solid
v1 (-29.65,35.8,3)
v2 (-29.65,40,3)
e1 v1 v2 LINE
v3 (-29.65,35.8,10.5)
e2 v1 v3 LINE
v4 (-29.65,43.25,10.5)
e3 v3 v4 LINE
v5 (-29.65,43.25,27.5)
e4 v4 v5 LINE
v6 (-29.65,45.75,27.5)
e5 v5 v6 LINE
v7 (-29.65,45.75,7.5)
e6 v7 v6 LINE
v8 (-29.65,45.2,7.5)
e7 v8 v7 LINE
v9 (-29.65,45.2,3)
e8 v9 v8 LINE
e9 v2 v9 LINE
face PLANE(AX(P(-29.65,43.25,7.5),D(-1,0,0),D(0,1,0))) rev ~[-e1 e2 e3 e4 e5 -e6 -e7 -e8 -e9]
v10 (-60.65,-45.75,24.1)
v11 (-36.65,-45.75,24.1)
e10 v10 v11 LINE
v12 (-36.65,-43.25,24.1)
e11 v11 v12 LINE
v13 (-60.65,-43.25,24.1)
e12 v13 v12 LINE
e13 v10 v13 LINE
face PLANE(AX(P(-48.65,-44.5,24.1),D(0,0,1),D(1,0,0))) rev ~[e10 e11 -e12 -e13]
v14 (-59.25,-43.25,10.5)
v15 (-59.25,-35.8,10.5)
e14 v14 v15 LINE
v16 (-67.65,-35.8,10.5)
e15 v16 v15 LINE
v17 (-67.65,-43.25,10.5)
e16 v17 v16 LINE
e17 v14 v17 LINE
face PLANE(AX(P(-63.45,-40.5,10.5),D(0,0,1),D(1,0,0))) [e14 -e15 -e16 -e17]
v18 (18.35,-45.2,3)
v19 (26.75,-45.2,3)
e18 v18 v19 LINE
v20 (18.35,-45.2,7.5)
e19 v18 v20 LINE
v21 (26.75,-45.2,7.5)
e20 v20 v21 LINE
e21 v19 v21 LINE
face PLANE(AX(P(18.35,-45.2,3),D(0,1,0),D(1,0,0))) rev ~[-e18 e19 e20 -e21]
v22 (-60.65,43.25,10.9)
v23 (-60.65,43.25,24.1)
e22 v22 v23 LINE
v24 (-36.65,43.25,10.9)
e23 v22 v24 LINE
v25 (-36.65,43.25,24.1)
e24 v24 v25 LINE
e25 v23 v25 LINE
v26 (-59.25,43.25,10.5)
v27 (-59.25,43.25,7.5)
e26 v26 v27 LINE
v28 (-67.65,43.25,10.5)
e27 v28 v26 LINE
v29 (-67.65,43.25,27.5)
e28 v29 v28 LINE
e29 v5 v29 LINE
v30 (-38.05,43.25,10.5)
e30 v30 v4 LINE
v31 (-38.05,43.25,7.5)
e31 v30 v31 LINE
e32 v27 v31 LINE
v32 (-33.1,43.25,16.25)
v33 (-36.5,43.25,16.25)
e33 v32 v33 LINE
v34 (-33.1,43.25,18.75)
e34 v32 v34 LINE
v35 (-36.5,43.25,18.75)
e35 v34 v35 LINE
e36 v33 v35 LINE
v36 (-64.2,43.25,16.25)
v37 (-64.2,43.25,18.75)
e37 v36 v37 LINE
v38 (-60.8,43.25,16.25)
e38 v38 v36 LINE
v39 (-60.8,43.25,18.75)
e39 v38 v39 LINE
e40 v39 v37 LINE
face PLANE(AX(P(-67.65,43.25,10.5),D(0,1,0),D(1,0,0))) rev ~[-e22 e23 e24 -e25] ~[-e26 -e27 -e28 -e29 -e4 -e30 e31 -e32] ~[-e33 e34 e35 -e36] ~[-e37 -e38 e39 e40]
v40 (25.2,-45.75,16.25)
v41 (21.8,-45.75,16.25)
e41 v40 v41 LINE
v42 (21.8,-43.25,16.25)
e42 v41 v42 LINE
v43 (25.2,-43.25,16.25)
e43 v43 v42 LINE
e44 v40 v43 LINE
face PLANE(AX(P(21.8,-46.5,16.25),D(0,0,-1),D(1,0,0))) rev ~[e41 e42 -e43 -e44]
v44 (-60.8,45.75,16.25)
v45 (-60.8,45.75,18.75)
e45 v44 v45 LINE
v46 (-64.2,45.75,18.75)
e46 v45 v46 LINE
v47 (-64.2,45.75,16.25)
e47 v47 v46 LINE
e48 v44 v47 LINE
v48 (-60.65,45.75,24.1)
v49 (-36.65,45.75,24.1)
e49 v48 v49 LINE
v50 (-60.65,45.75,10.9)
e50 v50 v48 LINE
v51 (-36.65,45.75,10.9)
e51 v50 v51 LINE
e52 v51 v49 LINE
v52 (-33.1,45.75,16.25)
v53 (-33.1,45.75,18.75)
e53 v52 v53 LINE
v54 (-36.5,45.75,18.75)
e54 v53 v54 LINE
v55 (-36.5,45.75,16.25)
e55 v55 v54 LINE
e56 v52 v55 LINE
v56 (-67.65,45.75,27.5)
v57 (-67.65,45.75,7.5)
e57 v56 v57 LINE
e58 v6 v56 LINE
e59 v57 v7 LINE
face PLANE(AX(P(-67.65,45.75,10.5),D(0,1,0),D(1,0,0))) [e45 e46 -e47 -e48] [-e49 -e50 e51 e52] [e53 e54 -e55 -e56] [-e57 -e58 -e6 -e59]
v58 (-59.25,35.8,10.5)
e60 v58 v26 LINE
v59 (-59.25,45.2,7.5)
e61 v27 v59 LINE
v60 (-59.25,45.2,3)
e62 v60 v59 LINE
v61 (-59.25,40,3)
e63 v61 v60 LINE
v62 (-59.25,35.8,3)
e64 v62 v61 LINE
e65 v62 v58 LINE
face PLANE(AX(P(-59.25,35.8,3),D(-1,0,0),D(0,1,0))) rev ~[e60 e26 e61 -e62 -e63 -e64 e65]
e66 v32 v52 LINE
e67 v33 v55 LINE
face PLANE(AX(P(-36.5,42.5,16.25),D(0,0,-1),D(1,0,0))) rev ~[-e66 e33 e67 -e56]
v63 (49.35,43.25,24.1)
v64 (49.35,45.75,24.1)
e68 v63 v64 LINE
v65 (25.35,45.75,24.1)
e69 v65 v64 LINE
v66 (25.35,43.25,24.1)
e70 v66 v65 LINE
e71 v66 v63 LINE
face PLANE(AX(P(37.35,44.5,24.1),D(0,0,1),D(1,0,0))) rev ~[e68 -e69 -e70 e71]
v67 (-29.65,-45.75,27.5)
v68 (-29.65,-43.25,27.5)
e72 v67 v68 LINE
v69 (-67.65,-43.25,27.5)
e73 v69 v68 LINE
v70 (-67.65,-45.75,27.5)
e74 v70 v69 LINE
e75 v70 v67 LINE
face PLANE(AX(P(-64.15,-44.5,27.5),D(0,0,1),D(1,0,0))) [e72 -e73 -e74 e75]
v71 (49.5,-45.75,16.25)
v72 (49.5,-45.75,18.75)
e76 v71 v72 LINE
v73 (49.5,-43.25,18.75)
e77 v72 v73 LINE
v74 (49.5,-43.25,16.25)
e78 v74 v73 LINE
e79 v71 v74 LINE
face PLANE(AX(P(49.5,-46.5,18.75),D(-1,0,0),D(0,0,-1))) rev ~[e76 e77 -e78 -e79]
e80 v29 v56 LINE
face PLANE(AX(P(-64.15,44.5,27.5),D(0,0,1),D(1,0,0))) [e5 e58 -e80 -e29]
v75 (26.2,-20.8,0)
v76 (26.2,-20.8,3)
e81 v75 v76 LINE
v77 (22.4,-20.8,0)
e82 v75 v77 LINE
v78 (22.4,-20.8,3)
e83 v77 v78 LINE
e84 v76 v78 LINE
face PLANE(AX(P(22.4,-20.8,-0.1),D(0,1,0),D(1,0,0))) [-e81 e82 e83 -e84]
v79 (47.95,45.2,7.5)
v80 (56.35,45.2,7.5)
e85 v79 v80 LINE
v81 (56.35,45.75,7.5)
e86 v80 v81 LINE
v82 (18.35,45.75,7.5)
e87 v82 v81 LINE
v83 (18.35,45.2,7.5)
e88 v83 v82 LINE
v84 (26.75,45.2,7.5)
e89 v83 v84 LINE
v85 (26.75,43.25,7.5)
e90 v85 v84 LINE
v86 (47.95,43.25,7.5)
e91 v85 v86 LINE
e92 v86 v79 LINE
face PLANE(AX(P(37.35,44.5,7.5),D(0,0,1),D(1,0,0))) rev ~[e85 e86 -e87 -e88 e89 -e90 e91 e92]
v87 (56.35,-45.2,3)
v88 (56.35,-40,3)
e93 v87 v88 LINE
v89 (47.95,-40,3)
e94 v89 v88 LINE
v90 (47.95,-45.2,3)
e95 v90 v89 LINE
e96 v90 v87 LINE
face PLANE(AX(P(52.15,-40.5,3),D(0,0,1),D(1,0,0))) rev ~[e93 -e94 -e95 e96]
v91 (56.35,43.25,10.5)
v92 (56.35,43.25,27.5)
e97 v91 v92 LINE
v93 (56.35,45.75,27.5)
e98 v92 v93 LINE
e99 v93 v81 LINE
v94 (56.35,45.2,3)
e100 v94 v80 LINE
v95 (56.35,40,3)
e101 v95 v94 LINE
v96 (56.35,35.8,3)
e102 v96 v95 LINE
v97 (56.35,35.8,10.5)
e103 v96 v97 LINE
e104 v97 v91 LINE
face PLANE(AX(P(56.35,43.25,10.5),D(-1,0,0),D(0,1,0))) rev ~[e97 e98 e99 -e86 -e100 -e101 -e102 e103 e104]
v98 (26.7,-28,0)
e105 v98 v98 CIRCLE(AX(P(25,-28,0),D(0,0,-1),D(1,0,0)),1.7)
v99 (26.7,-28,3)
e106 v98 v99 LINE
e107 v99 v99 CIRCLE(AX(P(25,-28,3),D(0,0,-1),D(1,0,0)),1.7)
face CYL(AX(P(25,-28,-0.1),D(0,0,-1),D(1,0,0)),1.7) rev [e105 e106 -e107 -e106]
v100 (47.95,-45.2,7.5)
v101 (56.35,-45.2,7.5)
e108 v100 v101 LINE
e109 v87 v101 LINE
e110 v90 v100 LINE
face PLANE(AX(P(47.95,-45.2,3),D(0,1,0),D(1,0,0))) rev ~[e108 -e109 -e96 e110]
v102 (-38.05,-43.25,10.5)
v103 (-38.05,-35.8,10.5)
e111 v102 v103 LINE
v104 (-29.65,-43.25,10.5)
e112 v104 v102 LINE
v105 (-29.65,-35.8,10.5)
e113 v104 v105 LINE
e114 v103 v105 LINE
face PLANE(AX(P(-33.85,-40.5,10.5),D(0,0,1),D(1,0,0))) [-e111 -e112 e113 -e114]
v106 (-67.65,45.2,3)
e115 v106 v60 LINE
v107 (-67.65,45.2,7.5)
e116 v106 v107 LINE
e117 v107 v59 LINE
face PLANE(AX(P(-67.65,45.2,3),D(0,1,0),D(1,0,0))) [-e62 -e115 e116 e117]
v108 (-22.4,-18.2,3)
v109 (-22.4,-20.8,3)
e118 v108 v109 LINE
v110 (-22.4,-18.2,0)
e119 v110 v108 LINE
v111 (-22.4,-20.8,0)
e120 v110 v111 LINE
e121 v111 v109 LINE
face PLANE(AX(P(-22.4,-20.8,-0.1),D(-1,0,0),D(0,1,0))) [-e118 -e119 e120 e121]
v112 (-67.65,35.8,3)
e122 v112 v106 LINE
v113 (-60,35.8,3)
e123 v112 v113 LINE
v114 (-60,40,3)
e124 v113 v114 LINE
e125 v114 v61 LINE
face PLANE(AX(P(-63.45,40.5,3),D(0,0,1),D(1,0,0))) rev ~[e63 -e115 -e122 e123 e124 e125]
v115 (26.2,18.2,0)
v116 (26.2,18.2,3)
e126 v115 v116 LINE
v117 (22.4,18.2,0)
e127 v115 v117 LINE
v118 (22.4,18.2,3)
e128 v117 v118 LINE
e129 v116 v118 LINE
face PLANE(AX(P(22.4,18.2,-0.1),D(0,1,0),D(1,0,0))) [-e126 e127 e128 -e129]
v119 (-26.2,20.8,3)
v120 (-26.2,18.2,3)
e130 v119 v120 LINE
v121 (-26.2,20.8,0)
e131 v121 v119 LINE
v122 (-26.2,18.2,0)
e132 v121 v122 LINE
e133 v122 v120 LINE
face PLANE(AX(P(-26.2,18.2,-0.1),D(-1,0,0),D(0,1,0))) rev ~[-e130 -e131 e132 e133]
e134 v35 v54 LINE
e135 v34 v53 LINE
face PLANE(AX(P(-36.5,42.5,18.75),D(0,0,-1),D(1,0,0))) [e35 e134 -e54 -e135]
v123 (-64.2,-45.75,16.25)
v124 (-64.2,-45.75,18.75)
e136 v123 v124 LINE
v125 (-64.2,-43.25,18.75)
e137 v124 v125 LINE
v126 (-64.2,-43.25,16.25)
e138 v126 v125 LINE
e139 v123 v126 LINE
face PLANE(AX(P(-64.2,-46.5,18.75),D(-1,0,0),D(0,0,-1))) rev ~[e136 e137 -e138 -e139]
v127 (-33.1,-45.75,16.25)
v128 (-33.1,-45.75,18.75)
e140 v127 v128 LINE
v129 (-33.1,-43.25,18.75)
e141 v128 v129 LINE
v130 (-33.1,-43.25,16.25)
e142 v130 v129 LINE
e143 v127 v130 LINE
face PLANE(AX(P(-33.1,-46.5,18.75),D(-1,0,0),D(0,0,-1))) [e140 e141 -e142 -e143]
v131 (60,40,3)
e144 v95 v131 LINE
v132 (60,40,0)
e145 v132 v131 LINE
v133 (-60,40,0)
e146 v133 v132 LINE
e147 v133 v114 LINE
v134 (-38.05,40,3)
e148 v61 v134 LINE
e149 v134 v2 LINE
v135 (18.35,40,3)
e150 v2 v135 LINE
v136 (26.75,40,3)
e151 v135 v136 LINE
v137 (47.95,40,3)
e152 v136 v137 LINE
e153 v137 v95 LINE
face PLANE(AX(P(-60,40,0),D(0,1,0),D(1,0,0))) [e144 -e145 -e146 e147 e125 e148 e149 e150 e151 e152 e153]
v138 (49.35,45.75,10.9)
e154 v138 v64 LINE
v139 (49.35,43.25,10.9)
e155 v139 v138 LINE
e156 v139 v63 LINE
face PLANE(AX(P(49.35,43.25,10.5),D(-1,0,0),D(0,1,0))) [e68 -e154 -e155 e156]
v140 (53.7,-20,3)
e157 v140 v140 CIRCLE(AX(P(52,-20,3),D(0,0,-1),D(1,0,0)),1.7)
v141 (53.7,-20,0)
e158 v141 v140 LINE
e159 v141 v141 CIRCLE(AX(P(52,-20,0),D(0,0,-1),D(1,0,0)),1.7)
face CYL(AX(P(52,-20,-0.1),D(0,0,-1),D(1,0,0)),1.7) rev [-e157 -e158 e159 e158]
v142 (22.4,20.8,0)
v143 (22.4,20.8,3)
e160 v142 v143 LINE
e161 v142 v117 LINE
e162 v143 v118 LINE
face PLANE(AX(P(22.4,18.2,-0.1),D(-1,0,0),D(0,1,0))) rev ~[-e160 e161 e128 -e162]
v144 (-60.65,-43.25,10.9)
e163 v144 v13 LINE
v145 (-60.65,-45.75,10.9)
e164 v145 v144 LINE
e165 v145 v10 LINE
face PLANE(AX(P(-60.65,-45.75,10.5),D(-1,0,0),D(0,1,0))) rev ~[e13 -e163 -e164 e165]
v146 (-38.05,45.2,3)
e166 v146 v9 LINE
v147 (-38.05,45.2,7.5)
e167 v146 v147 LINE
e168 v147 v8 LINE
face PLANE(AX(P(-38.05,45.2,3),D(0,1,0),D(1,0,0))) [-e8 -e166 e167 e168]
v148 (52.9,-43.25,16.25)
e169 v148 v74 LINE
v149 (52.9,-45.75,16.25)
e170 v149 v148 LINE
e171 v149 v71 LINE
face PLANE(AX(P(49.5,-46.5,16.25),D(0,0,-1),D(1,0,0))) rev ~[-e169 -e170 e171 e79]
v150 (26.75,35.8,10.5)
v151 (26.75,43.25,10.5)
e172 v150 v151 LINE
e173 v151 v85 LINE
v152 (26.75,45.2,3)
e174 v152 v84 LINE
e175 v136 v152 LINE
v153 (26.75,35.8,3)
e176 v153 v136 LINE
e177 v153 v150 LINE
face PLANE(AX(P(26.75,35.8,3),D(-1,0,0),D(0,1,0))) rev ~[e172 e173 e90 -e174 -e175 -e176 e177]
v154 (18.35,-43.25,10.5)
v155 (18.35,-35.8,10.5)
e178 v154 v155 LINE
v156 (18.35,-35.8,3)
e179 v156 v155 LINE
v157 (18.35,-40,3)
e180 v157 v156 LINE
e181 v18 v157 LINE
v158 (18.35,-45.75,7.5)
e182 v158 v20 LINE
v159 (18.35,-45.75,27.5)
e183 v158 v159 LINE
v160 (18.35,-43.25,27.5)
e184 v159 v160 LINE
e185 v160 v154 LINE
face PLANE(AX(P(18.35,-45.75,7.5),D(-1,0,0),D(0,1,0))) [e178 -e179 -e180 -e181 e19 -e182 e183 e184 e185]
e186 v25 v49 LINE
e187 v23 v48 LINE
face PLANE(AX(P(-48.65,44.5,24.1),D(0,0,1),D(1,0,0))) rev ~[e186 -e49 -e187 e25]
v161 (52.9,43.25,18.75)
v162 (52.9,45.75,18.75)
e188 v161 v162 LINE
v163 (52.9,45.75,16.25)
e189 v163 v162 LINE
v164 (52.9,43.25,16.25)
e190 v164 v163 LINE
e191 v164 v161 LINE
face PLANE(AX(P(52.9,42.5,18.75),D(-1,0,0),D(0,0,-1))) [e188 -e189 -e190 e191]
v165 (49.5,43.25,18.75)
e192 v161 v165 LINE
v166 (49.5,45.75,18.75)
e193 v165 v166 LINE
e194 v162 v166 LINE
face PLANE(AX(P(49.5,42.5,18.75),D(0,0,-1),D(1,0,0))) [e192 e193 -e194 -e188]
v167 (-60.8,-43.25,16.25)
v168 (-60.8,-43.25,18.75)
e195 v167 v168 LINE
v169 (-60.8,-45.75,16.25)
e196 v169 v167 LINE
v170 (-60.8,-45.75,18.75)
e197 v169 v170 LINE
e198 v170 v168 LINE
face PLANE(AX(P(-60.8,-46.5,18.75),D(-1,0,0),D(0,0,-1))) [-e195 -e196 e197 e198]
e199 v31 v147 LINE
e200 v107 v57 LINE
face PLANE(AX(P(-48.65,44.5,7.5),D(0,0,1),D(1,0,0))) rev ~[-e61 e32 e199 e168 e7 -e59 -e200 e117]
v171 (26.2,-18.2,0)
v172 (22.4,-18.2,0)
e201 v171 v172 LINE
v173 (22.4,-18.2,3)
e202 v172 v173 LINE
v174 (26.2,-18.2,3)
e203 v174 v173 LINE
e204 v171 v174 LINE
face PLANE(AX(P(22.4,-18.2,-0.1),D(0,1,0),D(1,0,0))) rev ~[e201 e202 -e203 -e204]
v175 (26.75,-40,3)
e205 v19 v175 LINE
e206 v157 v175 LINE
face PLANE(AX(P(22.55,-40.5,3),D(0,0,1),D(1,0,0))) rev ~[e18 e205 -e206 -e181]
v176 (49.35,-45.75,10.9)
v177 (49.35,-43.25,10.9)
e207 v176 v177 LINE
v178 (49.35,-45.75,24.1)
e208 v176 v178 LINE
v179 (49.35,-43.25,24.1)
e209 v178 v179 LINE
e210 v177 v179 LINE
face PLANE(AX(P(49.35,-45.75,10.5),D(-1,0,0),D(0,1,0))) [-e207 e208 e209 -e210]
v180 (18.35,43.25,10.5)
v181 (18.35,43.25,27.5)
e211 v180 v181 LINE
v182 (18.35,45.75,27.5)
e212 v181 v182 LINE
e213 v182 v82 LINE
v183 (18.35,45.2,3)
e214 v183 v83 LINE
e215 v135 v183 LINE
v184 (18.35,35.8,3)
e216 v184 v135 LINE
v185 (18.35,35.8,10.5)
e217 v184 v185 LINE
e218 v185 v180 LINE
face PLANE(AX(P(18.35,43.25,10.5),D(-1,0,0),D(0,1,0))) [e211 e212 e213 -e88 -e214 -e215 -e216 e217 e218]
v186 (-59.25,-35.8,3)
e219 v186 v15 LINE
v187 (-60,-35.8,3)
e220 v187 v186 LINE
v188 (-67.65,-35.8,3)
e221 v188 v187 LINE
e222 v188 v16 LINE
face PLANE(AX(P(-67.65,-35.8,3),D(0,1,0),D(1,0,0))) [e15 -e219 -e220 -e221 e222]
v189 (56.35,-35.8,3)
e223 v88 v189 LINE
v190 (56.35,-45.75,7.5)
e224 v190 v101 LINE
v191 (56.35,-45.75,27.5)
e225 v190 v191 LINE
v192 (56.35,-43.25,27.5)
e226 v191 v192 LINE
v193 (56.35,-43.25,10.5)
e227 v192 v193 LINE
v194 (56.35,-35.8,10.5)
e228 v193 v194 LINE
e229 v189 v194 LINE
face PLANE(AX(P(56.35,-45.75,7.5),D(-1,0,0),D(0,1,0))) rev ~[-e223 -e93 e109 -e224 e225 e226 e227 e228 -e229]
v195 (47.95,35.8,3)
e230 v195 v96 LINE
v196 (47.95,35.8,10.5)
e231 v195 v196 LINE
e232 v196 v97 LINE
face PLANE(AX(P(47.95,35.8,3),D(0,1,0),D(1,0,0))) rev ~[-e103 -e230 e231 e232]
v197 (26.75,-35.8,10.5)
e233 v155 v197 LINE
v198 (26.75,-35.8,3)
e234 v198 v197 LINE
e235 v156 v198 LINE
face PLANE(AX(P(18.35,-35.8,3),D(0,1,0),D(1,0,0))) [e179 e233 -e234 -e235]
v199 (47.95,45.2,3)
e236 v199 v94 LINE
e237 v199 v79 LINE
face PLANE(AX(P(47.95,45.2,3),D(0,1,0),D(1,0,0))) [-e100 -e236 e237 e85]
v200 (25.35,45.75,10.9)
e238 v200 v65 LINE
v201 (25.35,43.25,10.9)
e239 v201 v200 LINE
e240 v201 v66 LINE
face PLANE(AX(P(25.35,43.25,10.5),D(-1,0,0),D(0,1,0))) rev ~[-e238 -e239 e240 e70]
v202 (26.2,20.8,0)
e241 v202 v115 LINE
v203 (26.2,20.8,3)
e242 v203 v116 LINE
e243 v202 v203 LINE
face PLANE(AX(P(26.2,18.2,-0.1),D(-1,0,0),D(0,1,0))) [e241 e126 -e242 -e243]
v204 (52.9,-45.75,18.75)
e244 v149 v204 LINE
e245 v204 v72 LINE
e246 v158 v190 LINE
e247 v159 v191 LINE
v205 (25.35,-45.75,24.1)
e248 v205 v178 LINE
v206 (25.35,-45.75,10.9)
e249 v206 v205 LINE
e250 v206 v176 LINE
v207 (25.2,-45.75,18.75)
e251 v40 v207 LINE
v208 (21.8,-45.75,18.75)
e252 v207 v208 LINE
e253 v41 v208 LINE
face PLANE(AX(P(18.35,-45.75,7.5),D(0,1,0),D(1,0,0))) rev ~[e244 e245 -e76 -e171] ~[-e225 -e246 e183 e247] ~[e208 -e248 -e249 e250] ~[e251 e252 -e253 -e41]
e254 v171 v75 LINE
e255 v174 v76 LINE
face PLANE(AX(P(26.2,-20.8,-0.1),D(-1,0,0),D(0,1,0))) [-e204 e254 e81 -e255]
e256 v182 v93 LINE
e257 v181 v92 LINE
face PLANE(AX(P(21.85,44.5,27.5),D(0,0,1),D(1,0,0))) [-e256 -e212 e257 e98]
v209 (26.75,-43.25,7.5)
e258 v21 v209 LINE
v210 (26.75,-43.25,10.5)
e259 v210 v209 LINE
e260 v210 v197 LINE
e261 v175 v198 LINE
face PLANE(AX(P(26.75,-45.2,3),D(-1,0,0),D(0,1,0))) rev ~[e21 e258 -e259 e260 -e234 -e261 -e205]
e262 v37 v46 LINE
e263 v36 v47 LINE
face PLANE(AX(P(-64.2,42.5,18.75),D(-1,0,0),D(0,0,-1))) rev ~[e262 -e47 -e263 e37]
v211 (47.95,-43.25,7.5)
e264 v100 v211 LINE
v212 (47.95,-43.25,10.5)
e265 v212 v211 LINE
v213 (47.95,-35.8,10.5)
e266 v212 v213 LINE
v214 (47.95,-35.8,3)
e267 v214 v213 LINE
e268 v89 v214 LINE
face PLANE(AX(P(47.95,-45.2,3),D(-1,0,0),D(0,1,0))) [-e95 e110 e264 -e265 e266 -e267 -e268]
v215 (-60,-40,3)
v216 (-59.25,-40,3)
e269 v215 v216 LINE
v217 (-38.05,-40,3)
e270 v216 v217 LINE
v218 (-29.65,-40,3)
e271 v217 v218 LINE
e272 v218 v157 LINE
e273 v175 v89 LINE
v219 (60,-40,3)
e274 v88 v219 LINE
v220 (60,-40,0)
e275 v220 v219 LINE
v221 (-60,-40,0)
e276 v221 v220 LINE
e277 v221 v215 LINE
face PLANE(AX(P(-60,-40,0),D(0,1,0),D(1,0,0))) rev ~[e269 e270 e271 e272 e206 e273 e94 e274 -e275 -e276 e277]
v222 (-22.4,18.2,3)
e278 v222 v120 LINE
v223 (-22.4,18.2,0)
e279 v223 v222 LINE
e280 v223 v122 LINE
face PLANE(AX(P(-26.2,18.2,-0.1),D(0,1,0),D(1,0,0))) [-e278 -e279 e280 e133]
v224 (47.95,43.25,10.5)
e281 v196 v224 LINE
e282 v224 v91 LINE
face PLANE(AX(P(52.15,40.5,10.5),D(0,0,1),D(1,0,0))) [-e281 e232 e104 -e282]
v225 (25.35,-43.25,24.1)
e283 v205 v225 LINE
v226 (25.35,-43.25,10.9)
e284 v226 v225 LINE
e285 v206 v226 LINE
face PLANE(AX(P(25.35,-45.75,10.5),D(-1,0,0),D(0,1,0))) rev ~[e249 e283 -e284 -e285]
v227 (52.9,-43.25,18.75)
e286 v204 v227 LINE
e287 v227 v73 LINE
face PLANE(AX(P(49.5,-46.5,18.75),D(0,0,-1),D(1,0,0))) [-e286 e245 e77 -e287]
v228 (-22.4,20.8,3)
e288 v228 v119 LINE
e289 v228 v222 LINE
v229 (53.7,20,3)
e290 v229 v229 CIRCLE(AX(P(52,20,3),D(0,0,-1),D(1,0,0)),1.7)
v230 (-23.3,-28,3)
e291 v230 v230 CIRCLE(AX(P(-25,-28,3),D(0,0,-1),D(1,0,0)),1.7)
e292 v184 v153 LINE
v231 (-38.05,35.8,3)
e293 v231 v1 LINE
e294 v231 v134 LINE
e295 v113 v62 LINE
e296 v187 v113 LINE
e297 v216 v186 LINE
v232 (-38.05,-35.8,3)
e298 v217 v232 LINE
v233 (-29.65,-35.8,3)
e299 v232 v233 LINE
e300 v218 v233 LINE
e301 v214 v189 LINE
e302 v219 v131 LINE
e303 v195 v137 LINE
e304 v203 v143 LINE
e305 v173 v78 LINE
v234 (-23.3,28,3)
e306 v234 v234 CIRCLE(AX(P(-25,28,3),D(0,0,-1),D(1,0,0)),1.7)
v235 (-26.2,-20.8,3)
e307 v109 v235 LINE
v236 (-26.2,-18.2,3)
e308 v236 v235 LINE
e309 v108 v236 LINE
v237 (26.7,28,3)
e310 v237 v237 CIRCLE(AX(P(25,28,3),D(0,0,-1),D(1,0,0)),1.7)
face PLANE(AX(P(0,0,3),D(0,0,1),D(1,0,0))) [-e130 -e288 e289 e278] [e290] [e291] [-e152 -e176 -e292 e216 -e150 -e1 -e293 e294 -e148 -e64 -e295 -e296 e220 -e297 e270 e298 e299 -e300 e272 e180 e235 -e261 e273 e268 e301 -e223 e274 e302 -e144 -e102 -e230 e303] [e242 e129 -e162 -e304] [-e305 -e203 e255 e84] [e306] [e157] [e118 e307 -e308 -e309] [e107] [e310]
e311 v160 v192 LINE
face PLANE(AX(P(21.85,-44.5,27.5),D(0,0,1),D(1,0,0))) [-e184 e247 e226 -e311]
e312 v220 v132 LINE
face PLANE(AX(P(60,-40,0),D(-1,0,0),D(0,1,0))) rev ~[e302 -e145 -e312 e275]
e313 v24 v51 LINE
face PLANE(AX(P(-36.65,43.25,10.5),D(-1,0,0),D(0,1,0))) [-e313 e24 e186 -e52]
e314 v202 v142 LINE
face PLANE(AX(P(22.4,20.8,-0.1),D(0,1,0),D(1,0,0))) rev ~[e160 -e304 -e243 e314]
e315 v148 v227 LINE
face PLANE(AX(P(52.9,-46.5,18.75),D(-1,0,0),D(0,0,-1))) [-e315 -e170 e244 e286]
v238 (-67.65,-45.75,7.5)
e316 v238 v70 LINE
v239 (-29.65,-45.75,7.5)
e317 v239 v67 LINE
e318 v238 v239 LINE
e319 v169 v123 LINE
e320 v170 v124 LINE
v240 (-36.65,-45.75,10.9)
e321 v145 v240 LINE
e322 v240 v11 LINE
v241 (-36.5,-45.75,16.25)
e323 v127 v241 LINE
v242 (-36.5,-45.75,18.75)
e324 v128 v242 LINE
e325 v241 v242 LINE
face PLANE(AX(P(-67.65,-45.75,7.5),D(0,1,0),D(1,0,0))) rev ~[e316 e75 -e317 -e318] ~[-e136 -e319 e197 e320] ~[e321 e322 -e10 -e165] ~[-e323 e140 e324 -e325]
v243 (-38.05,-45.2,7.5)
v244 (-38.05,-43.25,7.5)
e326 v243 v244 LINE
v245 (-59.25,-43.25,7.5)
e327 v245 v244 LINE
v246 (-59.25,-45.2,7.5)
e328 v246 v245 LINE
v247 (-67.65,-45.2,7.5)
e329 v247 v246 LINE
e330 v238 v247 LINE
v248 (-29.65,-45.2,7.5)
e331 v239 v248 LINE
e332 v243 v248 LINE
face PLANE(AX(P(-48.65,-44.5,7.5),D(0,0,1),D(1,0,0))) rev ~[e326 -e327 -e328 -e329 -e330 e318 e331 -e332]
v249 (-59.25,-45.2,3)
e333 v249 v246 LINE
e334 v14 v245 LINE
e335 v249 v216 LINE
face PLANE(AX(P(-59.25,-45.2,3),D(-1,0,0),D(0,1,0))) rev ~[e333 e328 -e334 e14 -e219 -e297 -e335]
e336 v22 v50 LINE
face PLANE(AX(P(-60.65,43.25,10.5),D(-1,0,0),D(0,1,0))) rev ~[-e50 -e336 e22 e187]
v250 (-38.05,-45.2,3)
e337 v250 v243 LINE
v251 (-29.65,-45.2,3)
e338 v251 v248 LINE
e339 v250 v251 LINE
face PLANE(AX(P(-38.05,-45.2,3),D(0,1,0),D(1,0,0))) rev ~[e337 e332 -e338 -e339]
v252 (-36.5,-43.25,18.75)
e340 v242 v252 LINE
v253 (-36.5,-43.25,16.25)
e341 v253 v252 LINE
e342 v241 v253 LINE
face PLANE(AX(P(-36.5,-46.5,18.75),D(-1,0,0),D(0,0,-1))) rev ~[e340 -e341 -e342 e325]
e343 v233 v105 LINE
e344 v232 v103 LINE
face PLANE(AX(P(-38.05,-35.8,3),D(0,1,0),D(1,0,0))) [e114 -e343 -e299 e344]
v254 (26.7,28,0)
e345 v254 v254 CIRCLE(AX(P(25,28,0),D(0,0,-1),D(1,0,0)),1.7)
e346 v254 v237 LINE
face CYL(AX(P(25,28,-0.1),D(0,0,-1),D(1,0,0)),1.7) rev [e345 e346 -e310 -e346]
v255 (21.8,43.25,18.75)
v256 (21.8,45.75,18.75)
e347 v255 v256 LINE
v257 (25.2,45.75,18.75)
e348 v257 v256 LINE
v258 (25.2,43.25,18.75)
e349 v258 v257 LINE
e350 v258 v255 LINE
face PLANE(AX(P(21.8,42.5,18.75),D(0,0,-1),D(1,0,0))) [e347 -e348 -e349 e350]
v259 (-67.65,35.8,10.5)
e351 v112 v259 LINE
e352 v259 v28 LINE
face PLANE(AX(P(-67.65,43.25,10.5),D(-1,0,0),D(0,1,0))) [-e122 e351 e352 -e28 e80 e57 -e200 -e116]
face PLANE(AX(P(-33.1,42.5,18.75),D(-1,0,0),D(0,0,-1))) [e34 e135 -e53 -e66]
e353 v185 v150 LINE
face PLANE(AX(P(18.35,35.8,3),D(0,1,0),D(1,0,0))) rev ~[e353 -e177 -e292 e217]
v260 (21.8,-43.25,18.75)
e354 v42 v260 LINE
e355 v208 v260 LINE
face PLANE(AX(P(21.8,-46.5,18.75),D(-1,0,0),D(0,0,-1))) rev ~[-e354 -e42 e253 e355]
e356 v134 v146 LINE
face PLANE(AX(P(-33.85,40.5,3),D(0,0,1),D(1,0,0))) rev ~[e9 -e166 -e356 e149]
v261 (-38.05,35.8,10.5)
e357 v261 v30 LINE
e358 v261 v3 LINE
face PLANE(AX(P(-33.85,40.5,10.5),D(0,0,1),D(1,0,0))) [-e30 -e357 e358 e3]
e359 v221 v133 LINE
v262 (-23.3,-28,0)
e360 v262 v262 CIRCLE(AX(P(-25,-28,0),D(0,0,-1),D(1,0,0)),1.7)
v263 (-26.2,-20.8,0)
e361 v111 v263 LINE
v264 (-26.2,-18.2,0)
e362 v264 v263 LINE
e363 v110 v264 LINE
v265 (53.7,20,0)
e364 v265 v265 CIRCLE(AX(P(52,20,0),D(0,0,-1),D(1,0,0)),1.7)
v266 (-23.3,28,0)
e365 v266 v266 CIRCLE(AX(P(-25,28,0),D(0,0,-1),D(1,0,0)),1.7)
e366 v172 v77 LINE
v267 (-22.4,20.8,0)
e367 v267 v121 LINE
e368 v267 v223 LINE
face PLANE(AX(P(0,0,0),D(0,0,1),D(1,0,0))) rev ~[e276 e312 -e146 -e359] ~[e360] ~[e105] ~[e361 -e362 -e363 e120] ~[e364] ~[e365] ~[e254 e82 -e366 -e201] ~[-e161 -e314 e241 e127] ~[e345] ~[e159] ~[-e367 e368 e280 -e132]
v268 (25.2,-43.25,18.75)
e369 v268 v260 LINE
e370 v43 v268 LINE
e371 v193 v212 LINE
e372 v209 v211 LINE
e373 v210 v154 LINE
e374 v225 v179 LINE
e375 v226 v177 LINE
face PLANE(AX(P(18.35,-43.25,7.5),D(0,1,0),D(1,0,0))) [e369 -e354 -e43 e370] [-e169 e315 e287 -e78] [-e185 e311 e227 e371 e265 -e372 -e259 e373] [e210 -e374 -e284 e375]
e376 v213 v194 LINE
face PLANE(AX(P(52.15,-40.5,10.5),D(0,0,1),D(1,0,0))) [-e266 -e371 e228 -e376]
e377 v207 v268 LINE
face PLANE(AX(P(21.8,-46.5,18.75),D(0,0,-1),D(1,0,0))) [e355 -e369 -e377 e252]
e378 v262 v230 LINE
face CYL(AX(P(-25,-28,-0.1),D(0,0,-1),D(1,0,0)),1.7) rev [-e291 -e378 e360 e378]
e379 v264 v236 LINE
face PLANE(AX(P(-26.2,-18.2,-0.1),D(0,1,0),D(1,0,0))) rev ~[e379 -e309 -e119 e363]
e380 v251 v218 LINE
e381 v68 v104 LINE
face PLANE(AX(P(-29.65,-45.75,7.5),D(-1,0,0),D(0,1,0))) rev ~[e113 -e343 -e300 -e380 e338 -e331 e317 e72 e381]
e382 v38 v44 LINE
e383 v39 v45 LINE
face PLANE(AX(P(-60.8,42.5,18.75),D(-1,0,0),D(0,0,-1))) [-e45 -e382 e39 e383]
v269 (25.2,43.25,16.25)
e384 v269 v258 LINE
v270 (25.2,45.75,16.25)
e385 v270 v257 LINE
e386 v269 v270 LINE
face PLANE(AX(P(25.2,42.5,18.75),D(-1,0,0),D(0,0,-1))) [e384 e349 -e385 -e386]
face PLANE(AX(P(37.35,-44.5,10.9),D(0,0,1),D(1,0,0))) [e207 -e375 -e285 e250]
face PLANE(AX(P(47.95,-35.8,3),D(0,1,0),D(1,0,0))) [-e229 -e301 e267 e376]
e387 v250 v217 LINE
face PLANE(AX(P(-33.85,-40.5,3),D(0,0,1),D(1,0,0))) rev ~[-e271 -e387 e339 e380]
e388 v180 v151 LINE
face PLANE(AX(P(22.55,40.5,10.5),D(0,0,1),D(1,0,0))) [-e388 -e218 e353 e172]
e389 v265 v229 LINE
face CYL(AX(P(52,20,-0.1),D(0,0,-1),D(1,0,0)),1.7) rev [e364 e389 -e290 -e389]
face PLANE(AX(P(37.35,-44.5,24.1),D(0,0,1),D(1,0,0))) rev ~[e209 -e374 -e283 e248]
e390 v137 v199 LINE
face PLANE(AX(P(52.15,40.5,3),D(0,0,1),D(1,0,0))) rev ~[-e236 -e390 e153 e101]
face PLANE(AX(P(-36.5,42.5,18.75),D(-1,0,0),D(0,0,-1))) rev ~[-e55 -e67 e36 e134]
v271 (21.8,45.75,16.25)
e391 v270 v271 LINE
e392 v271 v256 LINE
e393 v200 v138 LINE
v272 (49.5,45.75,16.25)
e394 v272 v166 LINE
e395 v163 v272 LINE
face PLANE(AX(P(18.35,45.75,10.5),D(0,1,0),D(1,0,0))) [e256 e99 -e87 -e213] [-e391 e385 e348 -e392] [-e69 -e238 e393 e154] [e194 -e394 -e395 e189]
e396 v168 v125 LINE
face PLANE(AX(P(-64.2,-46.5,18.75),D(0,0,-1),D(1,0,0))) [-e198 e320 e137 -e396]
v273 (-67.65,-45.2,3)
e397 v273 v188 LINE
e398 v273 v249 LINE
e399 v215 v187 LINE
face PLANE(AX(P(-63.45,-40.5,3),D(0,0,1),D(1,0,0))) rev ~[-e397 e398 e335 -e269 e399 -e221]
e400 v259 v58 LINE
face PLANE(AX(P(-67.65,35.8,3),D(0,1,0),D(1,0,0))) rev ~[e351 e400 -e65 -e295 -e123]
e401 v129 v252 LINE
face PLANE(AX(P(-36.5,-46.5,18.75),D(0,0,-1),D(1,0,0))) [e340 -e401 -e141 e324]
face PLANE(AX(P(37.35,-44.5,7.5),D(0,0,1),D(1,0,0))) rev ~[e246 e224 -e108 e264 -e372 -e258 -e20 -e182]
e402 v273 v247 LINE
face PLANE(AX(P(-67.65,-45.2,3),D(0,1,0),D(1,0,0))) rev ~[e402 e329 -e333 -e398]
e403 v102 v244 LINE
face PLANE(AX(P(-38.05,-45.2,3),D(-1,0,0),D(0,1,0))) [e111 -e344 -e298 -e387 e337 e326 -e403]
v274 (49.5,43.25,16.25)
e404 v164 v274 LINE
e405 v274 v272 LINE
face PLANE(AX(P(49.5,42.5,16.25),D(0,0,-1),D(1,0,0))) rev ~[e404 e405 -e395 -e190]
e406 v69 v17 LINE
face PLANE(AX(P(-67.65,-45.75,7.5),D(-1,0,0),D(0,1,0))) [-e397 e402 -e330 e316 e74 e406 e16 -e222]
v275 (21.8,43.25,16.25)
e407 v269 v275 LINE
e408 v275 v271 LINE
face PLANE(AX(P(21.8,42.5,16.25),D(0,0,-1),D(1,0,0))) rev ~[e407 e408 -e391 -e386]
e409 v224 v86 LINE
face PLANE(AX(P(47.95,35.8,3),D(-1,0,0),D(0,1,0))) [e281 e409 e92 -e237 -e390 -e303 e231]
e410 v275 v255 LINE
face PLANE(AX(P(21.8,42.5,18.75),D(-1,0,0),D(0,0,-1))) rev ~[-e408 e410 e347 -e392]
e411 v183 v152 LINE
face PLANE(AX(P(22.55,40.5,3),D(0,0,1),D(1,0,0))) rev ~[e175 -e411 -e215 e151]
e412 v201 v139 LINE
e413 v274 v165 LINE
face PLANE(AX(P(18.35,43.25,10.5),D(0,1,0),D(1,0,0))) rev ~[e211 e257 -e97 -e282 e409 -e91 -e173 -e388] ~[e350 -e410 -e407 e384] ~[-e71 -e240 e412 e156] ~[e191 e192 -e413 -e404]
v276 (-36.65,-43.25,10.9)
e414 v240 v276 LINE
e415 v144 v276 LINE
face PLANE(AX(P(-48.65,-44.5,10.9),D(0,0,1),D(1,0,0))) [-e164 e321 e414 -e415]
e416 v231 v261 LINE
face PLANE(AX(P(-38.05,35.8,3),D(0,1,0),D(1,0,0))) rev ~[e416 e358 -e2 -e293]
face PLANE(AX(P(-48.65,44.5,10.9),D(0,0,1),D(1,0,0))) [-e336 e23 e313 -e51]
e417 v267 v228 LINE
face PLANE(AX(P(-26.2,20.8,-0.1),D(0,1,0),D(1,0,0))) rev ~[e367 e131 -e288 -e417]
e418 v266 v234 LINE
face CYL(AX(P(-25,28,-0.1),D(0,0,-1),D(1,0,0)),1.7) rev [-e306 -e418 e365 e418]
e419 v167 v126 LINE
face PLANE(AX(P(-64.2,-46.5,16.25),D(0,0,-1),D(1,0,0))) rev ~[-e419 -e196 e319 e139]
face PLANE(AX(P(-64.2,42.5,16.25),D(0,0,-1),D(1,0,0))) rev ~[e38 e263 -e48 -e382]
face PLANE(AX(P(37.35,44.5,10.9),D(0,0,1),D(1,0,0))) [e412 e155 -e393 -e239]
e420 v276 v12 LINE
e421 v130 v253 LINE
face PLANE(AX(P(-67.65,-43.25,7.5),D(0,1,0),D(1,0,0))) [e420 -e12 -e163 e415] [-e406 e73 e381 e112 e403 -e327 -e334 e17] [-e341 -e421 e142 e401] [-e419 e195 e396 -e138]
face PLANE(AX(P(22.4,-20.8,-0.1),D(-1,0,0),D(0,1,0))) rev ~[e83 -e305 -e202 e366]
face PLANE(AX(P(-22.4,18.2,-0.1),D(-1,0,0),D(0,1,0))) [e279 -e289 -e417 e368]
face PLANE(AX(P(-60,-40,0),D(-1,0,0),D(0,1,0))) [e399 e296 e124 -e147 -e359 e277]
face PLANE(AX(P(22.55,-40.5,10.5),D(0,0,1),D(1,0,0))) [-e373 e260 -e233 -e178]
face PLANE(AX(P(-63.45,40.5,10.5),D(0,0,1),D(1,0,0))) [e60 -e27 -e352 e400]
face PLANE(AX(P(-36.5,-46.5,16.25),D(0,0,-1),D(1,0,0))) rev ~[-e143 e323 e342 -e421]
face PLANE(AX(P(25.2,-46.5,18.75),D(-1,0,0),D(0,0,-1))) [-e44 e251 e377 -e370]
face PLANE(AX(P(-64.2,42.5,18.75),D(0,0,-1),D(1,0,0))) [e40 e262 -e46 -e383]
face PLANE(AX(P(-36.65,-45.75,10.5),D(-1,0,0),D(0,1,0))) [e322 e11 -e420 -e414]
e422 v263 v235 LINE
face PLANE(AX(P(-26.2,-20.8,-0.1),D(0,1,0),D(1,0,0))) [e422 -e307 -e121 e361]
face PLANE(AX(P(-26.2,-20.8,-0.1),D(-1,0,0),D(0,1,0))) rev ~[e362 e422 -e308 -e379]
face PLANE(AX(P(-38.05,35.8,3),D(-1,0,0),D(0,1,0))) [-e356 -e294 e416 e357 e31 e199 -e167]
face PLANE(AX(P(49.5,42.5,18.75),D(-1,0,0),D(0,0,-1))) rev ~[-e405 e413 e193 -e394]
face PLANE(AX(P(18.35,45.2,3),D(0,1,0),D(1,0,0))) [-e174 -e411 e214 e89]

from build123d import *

# Parameters (mm, degrees)
SKETCH_1_W                       = 120
SKETCH_1_H                       = 80
DECK_120X80X3_DEPTH              = 3
FRAME_RIB_START                  = 3
SKETCH_2_W                       = 8.4
SKETCH_2_H                       = 9.4
FRAME_RIB_DEPTH                  = 7.5
EXTRUDE_START                    = 3
SKETCH_3_W                       = 8.4
SKETCH_3_H                       = 9.4
EXTRUDE_3_DEPTH                  = 7.5
MOUNT_UPRIGHT_START              = 10.5
SKETCH_4_W                       = 7
SKETCH_4_H                       = 2.5
MOUNT_UPRIGHT_DEPTH              = 17
EXTRUDE_START_2                  = 10.5
SKETCH_5_W                       = 7
SKETCH_5_H                       = 2.5
EXTRUDE_5_DEPTH                  = 17
MOUNT_LOWER_BEAM_START           = 7.5
SKETCH_6_W                       = 38
SKETCH_6_H                       = 2.5
MOUNT_LOWER_BEAM_DEPTH           = 3.4
MOUNT_UPPER_BEAM_START           = 24.1
SKETCH_7_W                       = 38
SKETCH_7_H                       = 2.5
MOUNT_UPPER_BEAM_DEPTH           = 3.4
SERVO_EAR_ADJUSTABLE_SLOTS_START = -46.5
SKETCH_8_W                       = 3.4
SKETCH_8_H                       = 2.5
SERVO_EAR_ADJUSTABLE_SLOTS_DEPTH = 4
SKETCH_9_W                       = 8.4
SKETCH_9_H                       = 9.4
EXTRUDE_8_DEPTH                  = 7.5
SKETCH_10_W                      = 8.4
SKETCH_10_H                      = 9.4
EXTRUDE_9_DEPTH                  = 7.5
SKETCH_11_W                      = 7
SKETCH_11_H                      = 2.5
EXTRUDE_10_DEPTH                 = 17
SKETCH_12_W                      = 7
SKETCH_12_H                      = 2.5
EXTRUDE_11_DEPTH                 = 17
EXTRUDE_START_3                  = 7.5
SKETCH_13_W                      = 38
SKETCH_13_H                      = 2.5
EXTRUDE_12_DEPTH                 = 3.4
EXTRUDE_START_4                  = 24.1
SKETCH_14_W                      = 38
SKETCH_14_H                      = 2.5
EXTRUDE_13_DEPTH                 = 3.4
CUT_EXTRUDE_START                = 42.5
SKETCH_15_W                      = 3.4
SKETCH_15_H                      = 2.5
CUT_EXTRUDE_2_DEPTH              = 4
SKETCH_16_W                      = 8.4
SKETCH_16_H                      = 9.4
EXTRUDE_14_DEPTH                 = 7.5
SKETCH_17_W                      = 8.4
SKETCH_17_H                      = 9.4
EXTRUDE_15_DEPTH                 = 7.5
SKETCH_18_W                      = 7
SKETCH_18_H                      = 2.5
EXTRUDE_16_DEPTH                 = 17
SKETCH_19_W                      = 7
SKETCH_19_H                      = 2.5
EXTRUDE_17_DEPTH                 = 17
SKETCH_20_W                      = 38
SKETCH_20_H                      = 2.5
EXTRUDE_18_DEPTH                 = 3.4
SKETCH_21_W                      = 38
SKETCH_21_H                      = 2.5
EXTRUDE_19_DEPTH                 = 3.4
CUT_EXTRUDE_START_2              = -46.5
SKETCH_22_W                      = 3.4
SKETCH_22_H                      = 2.5
CUT_EXTRUDE_3_DEPTH              = 4
SKETCH_23_W                      = 8.4
SKETCH_23_H                      = 9.4
EXTRUDE_20_DEPTH                 = 7.5
SKETCH_24_W                      = 8.4
SKETCH_24_H                      = 9.4
EXTRUDE_21_DEPTH                 = 7.5
SKETCH_25_W                      = 7
SKETCH_25_H                      = 2.5
EXTRUDE_22_DEPTH                 = 17
SKETCH_26_W                      = 7
SKETCH_26_H                      = 2.5
EXTRUDE_23_DEPTH                 = 17
SKETCH_27_W                      = 38
SKETCH_27_H                      = 2.5
EXTRUDE_24_DEPTH                 = 3.4
SKETCH_28_W                      = 38
SKETCH_28_H                      = 2.5
EXTRUDE_25_DEPTH                 = 3.4
SKETCH_29_W                      = 3.4
SKETCH_29_H                      = 2.5
CUT_EXTRUDE_4_DEPTH              = 4
M3_DECK_MOUNTING_HOLES_START     = -0.1
SKETCH_30_R                      = 1.7
M3_DECK_MOUNTING_HOLES_DEPTH     = 3.2
PCB_SCREW_ACCESS_START           = -0.1
SKETCH_31_W                      = 3.8
SKETCH_31_H                      = 2.6
PCB_SCREW_ACCESS_DEPTH           = 3.2


with BuildPart() as part:
    # 草图1 → Deck_120x80x3 (new body)
    with BuildSketch(Plane.XY):
        Rectangle(SKETCH_1_W, SKETCH_1_H)
    extrude(amount=DECK_120X80X3_DEPTH)

    # 草图2 → Frame_rib (add)
    with BuildSketch(Plane.XY.offset(FRAME_RIB_START)):
        with Locations((-63.45, -40.5)):
            Rectangle(SKETCH_2_W, SKETCH_2_H)
    extrude(amount=FRAME_RIB_DEPTH)

    # 草图3 → 凸台-拉伸3 (add)
    with BuildSketch(Plane.XY.offset(EXTRUDE_START)):
        with Locations((-33.85, -40.5)):
            Rectangle(SKETCH_3_W, SKETCH_3_H)
    extrude(amount=EXTRUDE_3_DEPTH)

    # 草图4 → Mount_upright (add)
    with BuildSketch(Plane.XY.offset(MOUNT_UPRIGHT_START)):
        with Locations((-64.15, -44.5)):
            Rectangle(SKETCH_4_W, SKETCH_4_H)
    extrude(amount=MOUNT_UPRIGHT_DEPTH)

    # 草图5 → 凸台-拉伸5 (add)
    with BuildSketch(Plane.XY.offset(EXTRUDE_START_2)):
        with Locations((-33.15, -44.5)):
            Rectangle(SKETCH_5_W, SKETCH_5_H)
    extrude(amount=EXTRUDE_5_DEPTH)

    # 草图6 → Mount_lower_beam (add)
    with BuildSketch(Plane.XY.offset(MOUNT_LOWER_BEAM_START)):
        with Locations((-48.65, -44.5)):
            Rectangle(SKETCH_6_W, SKETCH_6_H)
    extrude(amount=MOUNT_LOWER_BEAM_DEPTH)

    # 草图7 → Mount_upper_beam (add)
    with BuildSketch(Plane.XY.offset(MOUNT_UPPER_BEAM_START)):
        with Locations((-48.65, -44.5)):
            Rectangle(SKETCH_7_W, SKETCH_7_H)
    extrude(amount=MOUNT_UPPER_BEAM_DEPTH)

    # 草图8 → Servo_ear_adjustable_slots (cut)
    with BuildSketch(Plane(origin=(0, 0, 0), x_dir=(1, 0, 0), z_dir=(0, 1, 0)).offset(SERVO_EAR_ADJUSTABLE_SLOTS_START)):
        with Locations((-62.5, -17.5)):
            Rectangle(SKETCH_8_W, SKETCH_8_H)
        with Locations((-34.8, -17.5)):
            Rectangle(SKETCH_8_W, SKETCH_8_H)
    extrude(amount=SERVO_EAR_ADJUSTABLE_SLOTS_DEPTH, mode=Mode.SUBTRACT)

    # 草图9 → 凸台-拉伸8 (add)
    with BuildSketch(Plane.XY.offset(EXTRUDE_START)):
        with Locations((-63.45, 40.5)):
            Rectangle(SKETCH_9_W, SKETCH_9_H)
    extrude(amount=EXTRUDE_8_DEPTH)

    # 草图10 → 凸台-拉伸9 (add)
    with BuildSketch(Plane.XY.offset(EXTRUDE_START)):
        with Locations((-33.85, 40.5)):
            Rectangle(SKETCH_10_W, SKETCH_10_H)
    extrude(amount=EXTRUDE_9_DEPTH)

    # 草图11 → 凸台-拉伸10 (add)
    with BuildSketch(Plane.XY.offset(EXTRUDE_START_2)):
        with Locations((-64.15, 44.5)):
            Rectangle(SKETCH_11_W, SKETCH_11_H)
    extrude(amount=EXTRUDE_10_DEPTH)

    # 草图12 → 凸台-拉伸11 (add)
    with BuildSketch(Plane.XY.offset(EXTRUDE_START_2)):
        with Locations((-33.15, 44.5)):
            Rectangle(SKETCH_12_W, SKETCH_12_H)
    extrude(amount=EXTRUDE_11_DEPTH)

    # 草图13 → 凸台-拉伸12 (add)
    with BuildSketch(Plane.XY.offset(EXTRUDE_START_3)):
        with Locations((-48.65, 44.5)):
            Rectangle(SKETCH_13_W, SKETCH_13_H)
    extrude(amount=EXTRUDE_12_DEPTH)

    # 草图14 → 凸台-拉伸13 (add)
    with BuildSketch(Plane.XY.offset(EXTRUDE_START_4)):
        with Locations((-48.65, 44.5)):
            Rectangle(SKETCH_14_W, SKETCH_14_H)
    extrude(amount=EXTRUDE_13_DEPTH)

    # 草图15 → 切除-拉伸2 (cut)
    with BuildSketch(Plane(origin=(0, 0, 0), x_dir=(1, 0, 0), z_dir=(0, 1, 0)).offset(CUT_EXTRUDE_START)):
        with Locations((-62.5, -17.5)):
            Rectangle(SKETCH_15_W, SKETCH_15_H)
        with Locations((-34.8, -17.5)):
            Rectangle(SKETCH_15_W, SKETCH_15_H)
    extrude(amount=CUT_EXTRUDE_2_DEPTH, mode=Mode.SUBTRACT)

    # 草图16 → 凸台-拉伸14 (add)
    with BuildSketch(Plane.XY.offset(EXTRUDE_START)):
        with Locations((22.55, -40.5)):
            Rectangle(SKETCH_16_W, SKETCH_16_H)
    extrude(amount=EXTRUDE_14_DEPTH)

    # 草图17 → 凸台-拉伸15 (add)
    with BuildSketch(Plane.XY.offset(EXTRUDE_START)):
        with Locations((52.15, -40.5)):
            Rectangle(SKETCH_17_W, SKETCH_17_H)
    extrude(amount=EXTRUDE_15_DEPTH)

    # 草图18 → 凸台-拉伸16 (add)
    with BuildSketch(Plane.XY.offset(EXTRUDE_START_2)):
        with Locations((21.85, -44.5)):
            Rectangle(SKETCH_18_W, SKETCH_18_H)
    extrude(amount=EXTRUDE_16_DEPTH)

    # 草图19 → 凸台-拉伸17 (add)
    with BuildSketch(Plane.XY.offset(EXTRUDE_START_2)):
        with Locations((52.85, -44.5)):
            Rectangle(SKETCH_19_W, SKETCH_19_H)
    extrude(amount=EXTRUDE_17_DEPTH)

    # 草图20 → 凸台-拉伸18 (add)
    with BuildSketch(Plane.XY.offset(EXTRUDE_START_3)):
        with Locations((37.35, -44.5)):
            Rectangle(SKETCH_20_W, SKETCH_20_H)
    extrude(amount=EXTRUDE_18_DEPTH)

    # 草图21 → 凸台-拉伸19 (add)
    with BuildSketch(Plane.XY.offset(EXTRUDE_START_4)):
        with Locations((37.35, -44.5)):
            Rectangle(SKETCH_21_W, SKETCH_21_H)
    extrude(amount=EXTRUDE_19_DEPTH)

    # 草图22 → 切除-拉伸3 (cut)
    with BuildSketch(Plane(origin=(0, 0, 0), x_dir=(1, 0, 0), z_dir=(0, 1, 0)).offset(CUT_EXTRUDE_START_2)):
        with Locations((23.5, -17.5)):
            Rectangle(SKETCH_22_W, SKETCH_22_H)
        with Locations((51.2, -17.5)):
            Rectangle(SKETCH_22_W, SKETCH_22_H)
    extrude(amount=CUT_EXTRUDE_3_DEPTH, mode=Mode.SUBTRACT)

    # 草图23 → 凸台-拉伸20 (add)
    with BuildSketch(Plane.XY.offset(EXTRUDE_START)):
        with Locations((22.55, 40.5)):
            Rectangle(SKETCH_23_W, SKETCH_23_H)
    extrude(amount=EXTRUDE_20_DEPTH)

    # 草图24 → 凸台-拉伸21 (add)
    with BuildSketch(Plane.XY.offset(EXTRUDE_START)):
        with Locations((52.15, 40.5)):
            Rectangle(SKETCH_24_W, SKETCH_24_H)
    extrude(amount=EXTRUDE_21_DEPTH)

    # 草图25 → 凸台-拉伸22 (add)
    with BuildSketch(Plane.XY.offset(EXTRUDE_START_2)):
        with Locations((21.85, 44.5)):
            Rectangle(SKETCH_25_W, SKETCH_25_H)
    extrude(amount=EXTRUDE_22_DEPTH)

    # 草图26 → 凸台-拉伸23 (add)
    with BuildSketch(Plane.XY.offset(EXTRUDE_START_2)):
        with Locations((52.85, 44.5)):
            Rectangle(SKETCH_26_W, SKETCH_26_H)
    extrude(amount=EXTRUDE_23_DEPTH)

    # 草图27 → 凸台-拉伸24 (add)
    with BuildSketch(Plane.XY.offset(EXTRUDE_START_3)):
        with Locations((37.35, 44.5)):
            Rectangle(SKETCH_27_W, SKETCH_27_H)
    extrude(amount=EXTRUDE_24_DEPTH)

    # 草图28 → 凸台-拉伸25 (add)
    with BuildSketch(Plane.XY.offset(EXTRUDE_START_4)):
        with Locations((37.35, 44.5)):
            Rectangle(SKETCH_28_W, SKETCH_28_H)
    extrude(amount=EXTRUDE_25_DEPTH)

    # 草图29 → 切除-拉伸4 (cut)
    with BuildSketch(Plane(origin=(0, 0, 0), x_dir=(1, 0, 0), z_dir=(0, 1, 0)).offset(CUT_EXTRUDE_START)):
        with Locations((23.5, -17.5)):
            Rectangle(SKETCH_29_W, SKETCH_29_H)
        with Locations((51.2, -17.5)):
            Rectangle(SKETCH_29_W, SKETCH_29_H)
    extrude(amount=CUT_EXTRUDE_4_DEPTH, mode=Mode.SUBTRACT)

    # 草图30 → M3_deck_mounting_holes (cut)
    with BuildSketch(Plane.XY.offset(M3_DECK_MOUNTING_HOLES_START)):
        with Locations((-25, -28)):
            Circle(SKETCH_30_R)
        with Locations((-25, 28)):
            Circle(SKETCH_30_R)
        with Locations((25, -28)):
            Circle(SKETCH_30_R)
        with Locations((25, 28)):
            Circle(SKETCH_30_R)
        with Locations((52, -20)):
            Circle(SKETCH_30_R)
        with Locations((52, 20)):
            Circle(SKETCH_30_R)
    extrude(amount=M3_DECK_MOUNTING_HOLES_DEPTH, mode=Mode.SUBTRACT)

    # 草图31 → PCB_screw_access (cut)
    with BuildSketch(Plane.XY.offset(PCB_SCREW_ACCESS_START)):
        with Locations((-24.3, -19.5)):
            Rectangle(SKETCH_31_W, SKETCH_31_H)
        with Locations((-24.3, 19.5)):
            Rectangle(SKETCH_31_W, SKETCH_31_H)
        with Locations((24.3, -19.5)):
            Rectangle(SKETCH_31_W, SKETCH_31_H)
        with Locations((24.3, 19.5)):
            Rectangle(SKETCH_31_W, SKETCH_31_H)
    extrude(amount=PCB_SCREW_ACCESS_DEPTH, mode=Mode.SUBTRACT)


solid = part.part
